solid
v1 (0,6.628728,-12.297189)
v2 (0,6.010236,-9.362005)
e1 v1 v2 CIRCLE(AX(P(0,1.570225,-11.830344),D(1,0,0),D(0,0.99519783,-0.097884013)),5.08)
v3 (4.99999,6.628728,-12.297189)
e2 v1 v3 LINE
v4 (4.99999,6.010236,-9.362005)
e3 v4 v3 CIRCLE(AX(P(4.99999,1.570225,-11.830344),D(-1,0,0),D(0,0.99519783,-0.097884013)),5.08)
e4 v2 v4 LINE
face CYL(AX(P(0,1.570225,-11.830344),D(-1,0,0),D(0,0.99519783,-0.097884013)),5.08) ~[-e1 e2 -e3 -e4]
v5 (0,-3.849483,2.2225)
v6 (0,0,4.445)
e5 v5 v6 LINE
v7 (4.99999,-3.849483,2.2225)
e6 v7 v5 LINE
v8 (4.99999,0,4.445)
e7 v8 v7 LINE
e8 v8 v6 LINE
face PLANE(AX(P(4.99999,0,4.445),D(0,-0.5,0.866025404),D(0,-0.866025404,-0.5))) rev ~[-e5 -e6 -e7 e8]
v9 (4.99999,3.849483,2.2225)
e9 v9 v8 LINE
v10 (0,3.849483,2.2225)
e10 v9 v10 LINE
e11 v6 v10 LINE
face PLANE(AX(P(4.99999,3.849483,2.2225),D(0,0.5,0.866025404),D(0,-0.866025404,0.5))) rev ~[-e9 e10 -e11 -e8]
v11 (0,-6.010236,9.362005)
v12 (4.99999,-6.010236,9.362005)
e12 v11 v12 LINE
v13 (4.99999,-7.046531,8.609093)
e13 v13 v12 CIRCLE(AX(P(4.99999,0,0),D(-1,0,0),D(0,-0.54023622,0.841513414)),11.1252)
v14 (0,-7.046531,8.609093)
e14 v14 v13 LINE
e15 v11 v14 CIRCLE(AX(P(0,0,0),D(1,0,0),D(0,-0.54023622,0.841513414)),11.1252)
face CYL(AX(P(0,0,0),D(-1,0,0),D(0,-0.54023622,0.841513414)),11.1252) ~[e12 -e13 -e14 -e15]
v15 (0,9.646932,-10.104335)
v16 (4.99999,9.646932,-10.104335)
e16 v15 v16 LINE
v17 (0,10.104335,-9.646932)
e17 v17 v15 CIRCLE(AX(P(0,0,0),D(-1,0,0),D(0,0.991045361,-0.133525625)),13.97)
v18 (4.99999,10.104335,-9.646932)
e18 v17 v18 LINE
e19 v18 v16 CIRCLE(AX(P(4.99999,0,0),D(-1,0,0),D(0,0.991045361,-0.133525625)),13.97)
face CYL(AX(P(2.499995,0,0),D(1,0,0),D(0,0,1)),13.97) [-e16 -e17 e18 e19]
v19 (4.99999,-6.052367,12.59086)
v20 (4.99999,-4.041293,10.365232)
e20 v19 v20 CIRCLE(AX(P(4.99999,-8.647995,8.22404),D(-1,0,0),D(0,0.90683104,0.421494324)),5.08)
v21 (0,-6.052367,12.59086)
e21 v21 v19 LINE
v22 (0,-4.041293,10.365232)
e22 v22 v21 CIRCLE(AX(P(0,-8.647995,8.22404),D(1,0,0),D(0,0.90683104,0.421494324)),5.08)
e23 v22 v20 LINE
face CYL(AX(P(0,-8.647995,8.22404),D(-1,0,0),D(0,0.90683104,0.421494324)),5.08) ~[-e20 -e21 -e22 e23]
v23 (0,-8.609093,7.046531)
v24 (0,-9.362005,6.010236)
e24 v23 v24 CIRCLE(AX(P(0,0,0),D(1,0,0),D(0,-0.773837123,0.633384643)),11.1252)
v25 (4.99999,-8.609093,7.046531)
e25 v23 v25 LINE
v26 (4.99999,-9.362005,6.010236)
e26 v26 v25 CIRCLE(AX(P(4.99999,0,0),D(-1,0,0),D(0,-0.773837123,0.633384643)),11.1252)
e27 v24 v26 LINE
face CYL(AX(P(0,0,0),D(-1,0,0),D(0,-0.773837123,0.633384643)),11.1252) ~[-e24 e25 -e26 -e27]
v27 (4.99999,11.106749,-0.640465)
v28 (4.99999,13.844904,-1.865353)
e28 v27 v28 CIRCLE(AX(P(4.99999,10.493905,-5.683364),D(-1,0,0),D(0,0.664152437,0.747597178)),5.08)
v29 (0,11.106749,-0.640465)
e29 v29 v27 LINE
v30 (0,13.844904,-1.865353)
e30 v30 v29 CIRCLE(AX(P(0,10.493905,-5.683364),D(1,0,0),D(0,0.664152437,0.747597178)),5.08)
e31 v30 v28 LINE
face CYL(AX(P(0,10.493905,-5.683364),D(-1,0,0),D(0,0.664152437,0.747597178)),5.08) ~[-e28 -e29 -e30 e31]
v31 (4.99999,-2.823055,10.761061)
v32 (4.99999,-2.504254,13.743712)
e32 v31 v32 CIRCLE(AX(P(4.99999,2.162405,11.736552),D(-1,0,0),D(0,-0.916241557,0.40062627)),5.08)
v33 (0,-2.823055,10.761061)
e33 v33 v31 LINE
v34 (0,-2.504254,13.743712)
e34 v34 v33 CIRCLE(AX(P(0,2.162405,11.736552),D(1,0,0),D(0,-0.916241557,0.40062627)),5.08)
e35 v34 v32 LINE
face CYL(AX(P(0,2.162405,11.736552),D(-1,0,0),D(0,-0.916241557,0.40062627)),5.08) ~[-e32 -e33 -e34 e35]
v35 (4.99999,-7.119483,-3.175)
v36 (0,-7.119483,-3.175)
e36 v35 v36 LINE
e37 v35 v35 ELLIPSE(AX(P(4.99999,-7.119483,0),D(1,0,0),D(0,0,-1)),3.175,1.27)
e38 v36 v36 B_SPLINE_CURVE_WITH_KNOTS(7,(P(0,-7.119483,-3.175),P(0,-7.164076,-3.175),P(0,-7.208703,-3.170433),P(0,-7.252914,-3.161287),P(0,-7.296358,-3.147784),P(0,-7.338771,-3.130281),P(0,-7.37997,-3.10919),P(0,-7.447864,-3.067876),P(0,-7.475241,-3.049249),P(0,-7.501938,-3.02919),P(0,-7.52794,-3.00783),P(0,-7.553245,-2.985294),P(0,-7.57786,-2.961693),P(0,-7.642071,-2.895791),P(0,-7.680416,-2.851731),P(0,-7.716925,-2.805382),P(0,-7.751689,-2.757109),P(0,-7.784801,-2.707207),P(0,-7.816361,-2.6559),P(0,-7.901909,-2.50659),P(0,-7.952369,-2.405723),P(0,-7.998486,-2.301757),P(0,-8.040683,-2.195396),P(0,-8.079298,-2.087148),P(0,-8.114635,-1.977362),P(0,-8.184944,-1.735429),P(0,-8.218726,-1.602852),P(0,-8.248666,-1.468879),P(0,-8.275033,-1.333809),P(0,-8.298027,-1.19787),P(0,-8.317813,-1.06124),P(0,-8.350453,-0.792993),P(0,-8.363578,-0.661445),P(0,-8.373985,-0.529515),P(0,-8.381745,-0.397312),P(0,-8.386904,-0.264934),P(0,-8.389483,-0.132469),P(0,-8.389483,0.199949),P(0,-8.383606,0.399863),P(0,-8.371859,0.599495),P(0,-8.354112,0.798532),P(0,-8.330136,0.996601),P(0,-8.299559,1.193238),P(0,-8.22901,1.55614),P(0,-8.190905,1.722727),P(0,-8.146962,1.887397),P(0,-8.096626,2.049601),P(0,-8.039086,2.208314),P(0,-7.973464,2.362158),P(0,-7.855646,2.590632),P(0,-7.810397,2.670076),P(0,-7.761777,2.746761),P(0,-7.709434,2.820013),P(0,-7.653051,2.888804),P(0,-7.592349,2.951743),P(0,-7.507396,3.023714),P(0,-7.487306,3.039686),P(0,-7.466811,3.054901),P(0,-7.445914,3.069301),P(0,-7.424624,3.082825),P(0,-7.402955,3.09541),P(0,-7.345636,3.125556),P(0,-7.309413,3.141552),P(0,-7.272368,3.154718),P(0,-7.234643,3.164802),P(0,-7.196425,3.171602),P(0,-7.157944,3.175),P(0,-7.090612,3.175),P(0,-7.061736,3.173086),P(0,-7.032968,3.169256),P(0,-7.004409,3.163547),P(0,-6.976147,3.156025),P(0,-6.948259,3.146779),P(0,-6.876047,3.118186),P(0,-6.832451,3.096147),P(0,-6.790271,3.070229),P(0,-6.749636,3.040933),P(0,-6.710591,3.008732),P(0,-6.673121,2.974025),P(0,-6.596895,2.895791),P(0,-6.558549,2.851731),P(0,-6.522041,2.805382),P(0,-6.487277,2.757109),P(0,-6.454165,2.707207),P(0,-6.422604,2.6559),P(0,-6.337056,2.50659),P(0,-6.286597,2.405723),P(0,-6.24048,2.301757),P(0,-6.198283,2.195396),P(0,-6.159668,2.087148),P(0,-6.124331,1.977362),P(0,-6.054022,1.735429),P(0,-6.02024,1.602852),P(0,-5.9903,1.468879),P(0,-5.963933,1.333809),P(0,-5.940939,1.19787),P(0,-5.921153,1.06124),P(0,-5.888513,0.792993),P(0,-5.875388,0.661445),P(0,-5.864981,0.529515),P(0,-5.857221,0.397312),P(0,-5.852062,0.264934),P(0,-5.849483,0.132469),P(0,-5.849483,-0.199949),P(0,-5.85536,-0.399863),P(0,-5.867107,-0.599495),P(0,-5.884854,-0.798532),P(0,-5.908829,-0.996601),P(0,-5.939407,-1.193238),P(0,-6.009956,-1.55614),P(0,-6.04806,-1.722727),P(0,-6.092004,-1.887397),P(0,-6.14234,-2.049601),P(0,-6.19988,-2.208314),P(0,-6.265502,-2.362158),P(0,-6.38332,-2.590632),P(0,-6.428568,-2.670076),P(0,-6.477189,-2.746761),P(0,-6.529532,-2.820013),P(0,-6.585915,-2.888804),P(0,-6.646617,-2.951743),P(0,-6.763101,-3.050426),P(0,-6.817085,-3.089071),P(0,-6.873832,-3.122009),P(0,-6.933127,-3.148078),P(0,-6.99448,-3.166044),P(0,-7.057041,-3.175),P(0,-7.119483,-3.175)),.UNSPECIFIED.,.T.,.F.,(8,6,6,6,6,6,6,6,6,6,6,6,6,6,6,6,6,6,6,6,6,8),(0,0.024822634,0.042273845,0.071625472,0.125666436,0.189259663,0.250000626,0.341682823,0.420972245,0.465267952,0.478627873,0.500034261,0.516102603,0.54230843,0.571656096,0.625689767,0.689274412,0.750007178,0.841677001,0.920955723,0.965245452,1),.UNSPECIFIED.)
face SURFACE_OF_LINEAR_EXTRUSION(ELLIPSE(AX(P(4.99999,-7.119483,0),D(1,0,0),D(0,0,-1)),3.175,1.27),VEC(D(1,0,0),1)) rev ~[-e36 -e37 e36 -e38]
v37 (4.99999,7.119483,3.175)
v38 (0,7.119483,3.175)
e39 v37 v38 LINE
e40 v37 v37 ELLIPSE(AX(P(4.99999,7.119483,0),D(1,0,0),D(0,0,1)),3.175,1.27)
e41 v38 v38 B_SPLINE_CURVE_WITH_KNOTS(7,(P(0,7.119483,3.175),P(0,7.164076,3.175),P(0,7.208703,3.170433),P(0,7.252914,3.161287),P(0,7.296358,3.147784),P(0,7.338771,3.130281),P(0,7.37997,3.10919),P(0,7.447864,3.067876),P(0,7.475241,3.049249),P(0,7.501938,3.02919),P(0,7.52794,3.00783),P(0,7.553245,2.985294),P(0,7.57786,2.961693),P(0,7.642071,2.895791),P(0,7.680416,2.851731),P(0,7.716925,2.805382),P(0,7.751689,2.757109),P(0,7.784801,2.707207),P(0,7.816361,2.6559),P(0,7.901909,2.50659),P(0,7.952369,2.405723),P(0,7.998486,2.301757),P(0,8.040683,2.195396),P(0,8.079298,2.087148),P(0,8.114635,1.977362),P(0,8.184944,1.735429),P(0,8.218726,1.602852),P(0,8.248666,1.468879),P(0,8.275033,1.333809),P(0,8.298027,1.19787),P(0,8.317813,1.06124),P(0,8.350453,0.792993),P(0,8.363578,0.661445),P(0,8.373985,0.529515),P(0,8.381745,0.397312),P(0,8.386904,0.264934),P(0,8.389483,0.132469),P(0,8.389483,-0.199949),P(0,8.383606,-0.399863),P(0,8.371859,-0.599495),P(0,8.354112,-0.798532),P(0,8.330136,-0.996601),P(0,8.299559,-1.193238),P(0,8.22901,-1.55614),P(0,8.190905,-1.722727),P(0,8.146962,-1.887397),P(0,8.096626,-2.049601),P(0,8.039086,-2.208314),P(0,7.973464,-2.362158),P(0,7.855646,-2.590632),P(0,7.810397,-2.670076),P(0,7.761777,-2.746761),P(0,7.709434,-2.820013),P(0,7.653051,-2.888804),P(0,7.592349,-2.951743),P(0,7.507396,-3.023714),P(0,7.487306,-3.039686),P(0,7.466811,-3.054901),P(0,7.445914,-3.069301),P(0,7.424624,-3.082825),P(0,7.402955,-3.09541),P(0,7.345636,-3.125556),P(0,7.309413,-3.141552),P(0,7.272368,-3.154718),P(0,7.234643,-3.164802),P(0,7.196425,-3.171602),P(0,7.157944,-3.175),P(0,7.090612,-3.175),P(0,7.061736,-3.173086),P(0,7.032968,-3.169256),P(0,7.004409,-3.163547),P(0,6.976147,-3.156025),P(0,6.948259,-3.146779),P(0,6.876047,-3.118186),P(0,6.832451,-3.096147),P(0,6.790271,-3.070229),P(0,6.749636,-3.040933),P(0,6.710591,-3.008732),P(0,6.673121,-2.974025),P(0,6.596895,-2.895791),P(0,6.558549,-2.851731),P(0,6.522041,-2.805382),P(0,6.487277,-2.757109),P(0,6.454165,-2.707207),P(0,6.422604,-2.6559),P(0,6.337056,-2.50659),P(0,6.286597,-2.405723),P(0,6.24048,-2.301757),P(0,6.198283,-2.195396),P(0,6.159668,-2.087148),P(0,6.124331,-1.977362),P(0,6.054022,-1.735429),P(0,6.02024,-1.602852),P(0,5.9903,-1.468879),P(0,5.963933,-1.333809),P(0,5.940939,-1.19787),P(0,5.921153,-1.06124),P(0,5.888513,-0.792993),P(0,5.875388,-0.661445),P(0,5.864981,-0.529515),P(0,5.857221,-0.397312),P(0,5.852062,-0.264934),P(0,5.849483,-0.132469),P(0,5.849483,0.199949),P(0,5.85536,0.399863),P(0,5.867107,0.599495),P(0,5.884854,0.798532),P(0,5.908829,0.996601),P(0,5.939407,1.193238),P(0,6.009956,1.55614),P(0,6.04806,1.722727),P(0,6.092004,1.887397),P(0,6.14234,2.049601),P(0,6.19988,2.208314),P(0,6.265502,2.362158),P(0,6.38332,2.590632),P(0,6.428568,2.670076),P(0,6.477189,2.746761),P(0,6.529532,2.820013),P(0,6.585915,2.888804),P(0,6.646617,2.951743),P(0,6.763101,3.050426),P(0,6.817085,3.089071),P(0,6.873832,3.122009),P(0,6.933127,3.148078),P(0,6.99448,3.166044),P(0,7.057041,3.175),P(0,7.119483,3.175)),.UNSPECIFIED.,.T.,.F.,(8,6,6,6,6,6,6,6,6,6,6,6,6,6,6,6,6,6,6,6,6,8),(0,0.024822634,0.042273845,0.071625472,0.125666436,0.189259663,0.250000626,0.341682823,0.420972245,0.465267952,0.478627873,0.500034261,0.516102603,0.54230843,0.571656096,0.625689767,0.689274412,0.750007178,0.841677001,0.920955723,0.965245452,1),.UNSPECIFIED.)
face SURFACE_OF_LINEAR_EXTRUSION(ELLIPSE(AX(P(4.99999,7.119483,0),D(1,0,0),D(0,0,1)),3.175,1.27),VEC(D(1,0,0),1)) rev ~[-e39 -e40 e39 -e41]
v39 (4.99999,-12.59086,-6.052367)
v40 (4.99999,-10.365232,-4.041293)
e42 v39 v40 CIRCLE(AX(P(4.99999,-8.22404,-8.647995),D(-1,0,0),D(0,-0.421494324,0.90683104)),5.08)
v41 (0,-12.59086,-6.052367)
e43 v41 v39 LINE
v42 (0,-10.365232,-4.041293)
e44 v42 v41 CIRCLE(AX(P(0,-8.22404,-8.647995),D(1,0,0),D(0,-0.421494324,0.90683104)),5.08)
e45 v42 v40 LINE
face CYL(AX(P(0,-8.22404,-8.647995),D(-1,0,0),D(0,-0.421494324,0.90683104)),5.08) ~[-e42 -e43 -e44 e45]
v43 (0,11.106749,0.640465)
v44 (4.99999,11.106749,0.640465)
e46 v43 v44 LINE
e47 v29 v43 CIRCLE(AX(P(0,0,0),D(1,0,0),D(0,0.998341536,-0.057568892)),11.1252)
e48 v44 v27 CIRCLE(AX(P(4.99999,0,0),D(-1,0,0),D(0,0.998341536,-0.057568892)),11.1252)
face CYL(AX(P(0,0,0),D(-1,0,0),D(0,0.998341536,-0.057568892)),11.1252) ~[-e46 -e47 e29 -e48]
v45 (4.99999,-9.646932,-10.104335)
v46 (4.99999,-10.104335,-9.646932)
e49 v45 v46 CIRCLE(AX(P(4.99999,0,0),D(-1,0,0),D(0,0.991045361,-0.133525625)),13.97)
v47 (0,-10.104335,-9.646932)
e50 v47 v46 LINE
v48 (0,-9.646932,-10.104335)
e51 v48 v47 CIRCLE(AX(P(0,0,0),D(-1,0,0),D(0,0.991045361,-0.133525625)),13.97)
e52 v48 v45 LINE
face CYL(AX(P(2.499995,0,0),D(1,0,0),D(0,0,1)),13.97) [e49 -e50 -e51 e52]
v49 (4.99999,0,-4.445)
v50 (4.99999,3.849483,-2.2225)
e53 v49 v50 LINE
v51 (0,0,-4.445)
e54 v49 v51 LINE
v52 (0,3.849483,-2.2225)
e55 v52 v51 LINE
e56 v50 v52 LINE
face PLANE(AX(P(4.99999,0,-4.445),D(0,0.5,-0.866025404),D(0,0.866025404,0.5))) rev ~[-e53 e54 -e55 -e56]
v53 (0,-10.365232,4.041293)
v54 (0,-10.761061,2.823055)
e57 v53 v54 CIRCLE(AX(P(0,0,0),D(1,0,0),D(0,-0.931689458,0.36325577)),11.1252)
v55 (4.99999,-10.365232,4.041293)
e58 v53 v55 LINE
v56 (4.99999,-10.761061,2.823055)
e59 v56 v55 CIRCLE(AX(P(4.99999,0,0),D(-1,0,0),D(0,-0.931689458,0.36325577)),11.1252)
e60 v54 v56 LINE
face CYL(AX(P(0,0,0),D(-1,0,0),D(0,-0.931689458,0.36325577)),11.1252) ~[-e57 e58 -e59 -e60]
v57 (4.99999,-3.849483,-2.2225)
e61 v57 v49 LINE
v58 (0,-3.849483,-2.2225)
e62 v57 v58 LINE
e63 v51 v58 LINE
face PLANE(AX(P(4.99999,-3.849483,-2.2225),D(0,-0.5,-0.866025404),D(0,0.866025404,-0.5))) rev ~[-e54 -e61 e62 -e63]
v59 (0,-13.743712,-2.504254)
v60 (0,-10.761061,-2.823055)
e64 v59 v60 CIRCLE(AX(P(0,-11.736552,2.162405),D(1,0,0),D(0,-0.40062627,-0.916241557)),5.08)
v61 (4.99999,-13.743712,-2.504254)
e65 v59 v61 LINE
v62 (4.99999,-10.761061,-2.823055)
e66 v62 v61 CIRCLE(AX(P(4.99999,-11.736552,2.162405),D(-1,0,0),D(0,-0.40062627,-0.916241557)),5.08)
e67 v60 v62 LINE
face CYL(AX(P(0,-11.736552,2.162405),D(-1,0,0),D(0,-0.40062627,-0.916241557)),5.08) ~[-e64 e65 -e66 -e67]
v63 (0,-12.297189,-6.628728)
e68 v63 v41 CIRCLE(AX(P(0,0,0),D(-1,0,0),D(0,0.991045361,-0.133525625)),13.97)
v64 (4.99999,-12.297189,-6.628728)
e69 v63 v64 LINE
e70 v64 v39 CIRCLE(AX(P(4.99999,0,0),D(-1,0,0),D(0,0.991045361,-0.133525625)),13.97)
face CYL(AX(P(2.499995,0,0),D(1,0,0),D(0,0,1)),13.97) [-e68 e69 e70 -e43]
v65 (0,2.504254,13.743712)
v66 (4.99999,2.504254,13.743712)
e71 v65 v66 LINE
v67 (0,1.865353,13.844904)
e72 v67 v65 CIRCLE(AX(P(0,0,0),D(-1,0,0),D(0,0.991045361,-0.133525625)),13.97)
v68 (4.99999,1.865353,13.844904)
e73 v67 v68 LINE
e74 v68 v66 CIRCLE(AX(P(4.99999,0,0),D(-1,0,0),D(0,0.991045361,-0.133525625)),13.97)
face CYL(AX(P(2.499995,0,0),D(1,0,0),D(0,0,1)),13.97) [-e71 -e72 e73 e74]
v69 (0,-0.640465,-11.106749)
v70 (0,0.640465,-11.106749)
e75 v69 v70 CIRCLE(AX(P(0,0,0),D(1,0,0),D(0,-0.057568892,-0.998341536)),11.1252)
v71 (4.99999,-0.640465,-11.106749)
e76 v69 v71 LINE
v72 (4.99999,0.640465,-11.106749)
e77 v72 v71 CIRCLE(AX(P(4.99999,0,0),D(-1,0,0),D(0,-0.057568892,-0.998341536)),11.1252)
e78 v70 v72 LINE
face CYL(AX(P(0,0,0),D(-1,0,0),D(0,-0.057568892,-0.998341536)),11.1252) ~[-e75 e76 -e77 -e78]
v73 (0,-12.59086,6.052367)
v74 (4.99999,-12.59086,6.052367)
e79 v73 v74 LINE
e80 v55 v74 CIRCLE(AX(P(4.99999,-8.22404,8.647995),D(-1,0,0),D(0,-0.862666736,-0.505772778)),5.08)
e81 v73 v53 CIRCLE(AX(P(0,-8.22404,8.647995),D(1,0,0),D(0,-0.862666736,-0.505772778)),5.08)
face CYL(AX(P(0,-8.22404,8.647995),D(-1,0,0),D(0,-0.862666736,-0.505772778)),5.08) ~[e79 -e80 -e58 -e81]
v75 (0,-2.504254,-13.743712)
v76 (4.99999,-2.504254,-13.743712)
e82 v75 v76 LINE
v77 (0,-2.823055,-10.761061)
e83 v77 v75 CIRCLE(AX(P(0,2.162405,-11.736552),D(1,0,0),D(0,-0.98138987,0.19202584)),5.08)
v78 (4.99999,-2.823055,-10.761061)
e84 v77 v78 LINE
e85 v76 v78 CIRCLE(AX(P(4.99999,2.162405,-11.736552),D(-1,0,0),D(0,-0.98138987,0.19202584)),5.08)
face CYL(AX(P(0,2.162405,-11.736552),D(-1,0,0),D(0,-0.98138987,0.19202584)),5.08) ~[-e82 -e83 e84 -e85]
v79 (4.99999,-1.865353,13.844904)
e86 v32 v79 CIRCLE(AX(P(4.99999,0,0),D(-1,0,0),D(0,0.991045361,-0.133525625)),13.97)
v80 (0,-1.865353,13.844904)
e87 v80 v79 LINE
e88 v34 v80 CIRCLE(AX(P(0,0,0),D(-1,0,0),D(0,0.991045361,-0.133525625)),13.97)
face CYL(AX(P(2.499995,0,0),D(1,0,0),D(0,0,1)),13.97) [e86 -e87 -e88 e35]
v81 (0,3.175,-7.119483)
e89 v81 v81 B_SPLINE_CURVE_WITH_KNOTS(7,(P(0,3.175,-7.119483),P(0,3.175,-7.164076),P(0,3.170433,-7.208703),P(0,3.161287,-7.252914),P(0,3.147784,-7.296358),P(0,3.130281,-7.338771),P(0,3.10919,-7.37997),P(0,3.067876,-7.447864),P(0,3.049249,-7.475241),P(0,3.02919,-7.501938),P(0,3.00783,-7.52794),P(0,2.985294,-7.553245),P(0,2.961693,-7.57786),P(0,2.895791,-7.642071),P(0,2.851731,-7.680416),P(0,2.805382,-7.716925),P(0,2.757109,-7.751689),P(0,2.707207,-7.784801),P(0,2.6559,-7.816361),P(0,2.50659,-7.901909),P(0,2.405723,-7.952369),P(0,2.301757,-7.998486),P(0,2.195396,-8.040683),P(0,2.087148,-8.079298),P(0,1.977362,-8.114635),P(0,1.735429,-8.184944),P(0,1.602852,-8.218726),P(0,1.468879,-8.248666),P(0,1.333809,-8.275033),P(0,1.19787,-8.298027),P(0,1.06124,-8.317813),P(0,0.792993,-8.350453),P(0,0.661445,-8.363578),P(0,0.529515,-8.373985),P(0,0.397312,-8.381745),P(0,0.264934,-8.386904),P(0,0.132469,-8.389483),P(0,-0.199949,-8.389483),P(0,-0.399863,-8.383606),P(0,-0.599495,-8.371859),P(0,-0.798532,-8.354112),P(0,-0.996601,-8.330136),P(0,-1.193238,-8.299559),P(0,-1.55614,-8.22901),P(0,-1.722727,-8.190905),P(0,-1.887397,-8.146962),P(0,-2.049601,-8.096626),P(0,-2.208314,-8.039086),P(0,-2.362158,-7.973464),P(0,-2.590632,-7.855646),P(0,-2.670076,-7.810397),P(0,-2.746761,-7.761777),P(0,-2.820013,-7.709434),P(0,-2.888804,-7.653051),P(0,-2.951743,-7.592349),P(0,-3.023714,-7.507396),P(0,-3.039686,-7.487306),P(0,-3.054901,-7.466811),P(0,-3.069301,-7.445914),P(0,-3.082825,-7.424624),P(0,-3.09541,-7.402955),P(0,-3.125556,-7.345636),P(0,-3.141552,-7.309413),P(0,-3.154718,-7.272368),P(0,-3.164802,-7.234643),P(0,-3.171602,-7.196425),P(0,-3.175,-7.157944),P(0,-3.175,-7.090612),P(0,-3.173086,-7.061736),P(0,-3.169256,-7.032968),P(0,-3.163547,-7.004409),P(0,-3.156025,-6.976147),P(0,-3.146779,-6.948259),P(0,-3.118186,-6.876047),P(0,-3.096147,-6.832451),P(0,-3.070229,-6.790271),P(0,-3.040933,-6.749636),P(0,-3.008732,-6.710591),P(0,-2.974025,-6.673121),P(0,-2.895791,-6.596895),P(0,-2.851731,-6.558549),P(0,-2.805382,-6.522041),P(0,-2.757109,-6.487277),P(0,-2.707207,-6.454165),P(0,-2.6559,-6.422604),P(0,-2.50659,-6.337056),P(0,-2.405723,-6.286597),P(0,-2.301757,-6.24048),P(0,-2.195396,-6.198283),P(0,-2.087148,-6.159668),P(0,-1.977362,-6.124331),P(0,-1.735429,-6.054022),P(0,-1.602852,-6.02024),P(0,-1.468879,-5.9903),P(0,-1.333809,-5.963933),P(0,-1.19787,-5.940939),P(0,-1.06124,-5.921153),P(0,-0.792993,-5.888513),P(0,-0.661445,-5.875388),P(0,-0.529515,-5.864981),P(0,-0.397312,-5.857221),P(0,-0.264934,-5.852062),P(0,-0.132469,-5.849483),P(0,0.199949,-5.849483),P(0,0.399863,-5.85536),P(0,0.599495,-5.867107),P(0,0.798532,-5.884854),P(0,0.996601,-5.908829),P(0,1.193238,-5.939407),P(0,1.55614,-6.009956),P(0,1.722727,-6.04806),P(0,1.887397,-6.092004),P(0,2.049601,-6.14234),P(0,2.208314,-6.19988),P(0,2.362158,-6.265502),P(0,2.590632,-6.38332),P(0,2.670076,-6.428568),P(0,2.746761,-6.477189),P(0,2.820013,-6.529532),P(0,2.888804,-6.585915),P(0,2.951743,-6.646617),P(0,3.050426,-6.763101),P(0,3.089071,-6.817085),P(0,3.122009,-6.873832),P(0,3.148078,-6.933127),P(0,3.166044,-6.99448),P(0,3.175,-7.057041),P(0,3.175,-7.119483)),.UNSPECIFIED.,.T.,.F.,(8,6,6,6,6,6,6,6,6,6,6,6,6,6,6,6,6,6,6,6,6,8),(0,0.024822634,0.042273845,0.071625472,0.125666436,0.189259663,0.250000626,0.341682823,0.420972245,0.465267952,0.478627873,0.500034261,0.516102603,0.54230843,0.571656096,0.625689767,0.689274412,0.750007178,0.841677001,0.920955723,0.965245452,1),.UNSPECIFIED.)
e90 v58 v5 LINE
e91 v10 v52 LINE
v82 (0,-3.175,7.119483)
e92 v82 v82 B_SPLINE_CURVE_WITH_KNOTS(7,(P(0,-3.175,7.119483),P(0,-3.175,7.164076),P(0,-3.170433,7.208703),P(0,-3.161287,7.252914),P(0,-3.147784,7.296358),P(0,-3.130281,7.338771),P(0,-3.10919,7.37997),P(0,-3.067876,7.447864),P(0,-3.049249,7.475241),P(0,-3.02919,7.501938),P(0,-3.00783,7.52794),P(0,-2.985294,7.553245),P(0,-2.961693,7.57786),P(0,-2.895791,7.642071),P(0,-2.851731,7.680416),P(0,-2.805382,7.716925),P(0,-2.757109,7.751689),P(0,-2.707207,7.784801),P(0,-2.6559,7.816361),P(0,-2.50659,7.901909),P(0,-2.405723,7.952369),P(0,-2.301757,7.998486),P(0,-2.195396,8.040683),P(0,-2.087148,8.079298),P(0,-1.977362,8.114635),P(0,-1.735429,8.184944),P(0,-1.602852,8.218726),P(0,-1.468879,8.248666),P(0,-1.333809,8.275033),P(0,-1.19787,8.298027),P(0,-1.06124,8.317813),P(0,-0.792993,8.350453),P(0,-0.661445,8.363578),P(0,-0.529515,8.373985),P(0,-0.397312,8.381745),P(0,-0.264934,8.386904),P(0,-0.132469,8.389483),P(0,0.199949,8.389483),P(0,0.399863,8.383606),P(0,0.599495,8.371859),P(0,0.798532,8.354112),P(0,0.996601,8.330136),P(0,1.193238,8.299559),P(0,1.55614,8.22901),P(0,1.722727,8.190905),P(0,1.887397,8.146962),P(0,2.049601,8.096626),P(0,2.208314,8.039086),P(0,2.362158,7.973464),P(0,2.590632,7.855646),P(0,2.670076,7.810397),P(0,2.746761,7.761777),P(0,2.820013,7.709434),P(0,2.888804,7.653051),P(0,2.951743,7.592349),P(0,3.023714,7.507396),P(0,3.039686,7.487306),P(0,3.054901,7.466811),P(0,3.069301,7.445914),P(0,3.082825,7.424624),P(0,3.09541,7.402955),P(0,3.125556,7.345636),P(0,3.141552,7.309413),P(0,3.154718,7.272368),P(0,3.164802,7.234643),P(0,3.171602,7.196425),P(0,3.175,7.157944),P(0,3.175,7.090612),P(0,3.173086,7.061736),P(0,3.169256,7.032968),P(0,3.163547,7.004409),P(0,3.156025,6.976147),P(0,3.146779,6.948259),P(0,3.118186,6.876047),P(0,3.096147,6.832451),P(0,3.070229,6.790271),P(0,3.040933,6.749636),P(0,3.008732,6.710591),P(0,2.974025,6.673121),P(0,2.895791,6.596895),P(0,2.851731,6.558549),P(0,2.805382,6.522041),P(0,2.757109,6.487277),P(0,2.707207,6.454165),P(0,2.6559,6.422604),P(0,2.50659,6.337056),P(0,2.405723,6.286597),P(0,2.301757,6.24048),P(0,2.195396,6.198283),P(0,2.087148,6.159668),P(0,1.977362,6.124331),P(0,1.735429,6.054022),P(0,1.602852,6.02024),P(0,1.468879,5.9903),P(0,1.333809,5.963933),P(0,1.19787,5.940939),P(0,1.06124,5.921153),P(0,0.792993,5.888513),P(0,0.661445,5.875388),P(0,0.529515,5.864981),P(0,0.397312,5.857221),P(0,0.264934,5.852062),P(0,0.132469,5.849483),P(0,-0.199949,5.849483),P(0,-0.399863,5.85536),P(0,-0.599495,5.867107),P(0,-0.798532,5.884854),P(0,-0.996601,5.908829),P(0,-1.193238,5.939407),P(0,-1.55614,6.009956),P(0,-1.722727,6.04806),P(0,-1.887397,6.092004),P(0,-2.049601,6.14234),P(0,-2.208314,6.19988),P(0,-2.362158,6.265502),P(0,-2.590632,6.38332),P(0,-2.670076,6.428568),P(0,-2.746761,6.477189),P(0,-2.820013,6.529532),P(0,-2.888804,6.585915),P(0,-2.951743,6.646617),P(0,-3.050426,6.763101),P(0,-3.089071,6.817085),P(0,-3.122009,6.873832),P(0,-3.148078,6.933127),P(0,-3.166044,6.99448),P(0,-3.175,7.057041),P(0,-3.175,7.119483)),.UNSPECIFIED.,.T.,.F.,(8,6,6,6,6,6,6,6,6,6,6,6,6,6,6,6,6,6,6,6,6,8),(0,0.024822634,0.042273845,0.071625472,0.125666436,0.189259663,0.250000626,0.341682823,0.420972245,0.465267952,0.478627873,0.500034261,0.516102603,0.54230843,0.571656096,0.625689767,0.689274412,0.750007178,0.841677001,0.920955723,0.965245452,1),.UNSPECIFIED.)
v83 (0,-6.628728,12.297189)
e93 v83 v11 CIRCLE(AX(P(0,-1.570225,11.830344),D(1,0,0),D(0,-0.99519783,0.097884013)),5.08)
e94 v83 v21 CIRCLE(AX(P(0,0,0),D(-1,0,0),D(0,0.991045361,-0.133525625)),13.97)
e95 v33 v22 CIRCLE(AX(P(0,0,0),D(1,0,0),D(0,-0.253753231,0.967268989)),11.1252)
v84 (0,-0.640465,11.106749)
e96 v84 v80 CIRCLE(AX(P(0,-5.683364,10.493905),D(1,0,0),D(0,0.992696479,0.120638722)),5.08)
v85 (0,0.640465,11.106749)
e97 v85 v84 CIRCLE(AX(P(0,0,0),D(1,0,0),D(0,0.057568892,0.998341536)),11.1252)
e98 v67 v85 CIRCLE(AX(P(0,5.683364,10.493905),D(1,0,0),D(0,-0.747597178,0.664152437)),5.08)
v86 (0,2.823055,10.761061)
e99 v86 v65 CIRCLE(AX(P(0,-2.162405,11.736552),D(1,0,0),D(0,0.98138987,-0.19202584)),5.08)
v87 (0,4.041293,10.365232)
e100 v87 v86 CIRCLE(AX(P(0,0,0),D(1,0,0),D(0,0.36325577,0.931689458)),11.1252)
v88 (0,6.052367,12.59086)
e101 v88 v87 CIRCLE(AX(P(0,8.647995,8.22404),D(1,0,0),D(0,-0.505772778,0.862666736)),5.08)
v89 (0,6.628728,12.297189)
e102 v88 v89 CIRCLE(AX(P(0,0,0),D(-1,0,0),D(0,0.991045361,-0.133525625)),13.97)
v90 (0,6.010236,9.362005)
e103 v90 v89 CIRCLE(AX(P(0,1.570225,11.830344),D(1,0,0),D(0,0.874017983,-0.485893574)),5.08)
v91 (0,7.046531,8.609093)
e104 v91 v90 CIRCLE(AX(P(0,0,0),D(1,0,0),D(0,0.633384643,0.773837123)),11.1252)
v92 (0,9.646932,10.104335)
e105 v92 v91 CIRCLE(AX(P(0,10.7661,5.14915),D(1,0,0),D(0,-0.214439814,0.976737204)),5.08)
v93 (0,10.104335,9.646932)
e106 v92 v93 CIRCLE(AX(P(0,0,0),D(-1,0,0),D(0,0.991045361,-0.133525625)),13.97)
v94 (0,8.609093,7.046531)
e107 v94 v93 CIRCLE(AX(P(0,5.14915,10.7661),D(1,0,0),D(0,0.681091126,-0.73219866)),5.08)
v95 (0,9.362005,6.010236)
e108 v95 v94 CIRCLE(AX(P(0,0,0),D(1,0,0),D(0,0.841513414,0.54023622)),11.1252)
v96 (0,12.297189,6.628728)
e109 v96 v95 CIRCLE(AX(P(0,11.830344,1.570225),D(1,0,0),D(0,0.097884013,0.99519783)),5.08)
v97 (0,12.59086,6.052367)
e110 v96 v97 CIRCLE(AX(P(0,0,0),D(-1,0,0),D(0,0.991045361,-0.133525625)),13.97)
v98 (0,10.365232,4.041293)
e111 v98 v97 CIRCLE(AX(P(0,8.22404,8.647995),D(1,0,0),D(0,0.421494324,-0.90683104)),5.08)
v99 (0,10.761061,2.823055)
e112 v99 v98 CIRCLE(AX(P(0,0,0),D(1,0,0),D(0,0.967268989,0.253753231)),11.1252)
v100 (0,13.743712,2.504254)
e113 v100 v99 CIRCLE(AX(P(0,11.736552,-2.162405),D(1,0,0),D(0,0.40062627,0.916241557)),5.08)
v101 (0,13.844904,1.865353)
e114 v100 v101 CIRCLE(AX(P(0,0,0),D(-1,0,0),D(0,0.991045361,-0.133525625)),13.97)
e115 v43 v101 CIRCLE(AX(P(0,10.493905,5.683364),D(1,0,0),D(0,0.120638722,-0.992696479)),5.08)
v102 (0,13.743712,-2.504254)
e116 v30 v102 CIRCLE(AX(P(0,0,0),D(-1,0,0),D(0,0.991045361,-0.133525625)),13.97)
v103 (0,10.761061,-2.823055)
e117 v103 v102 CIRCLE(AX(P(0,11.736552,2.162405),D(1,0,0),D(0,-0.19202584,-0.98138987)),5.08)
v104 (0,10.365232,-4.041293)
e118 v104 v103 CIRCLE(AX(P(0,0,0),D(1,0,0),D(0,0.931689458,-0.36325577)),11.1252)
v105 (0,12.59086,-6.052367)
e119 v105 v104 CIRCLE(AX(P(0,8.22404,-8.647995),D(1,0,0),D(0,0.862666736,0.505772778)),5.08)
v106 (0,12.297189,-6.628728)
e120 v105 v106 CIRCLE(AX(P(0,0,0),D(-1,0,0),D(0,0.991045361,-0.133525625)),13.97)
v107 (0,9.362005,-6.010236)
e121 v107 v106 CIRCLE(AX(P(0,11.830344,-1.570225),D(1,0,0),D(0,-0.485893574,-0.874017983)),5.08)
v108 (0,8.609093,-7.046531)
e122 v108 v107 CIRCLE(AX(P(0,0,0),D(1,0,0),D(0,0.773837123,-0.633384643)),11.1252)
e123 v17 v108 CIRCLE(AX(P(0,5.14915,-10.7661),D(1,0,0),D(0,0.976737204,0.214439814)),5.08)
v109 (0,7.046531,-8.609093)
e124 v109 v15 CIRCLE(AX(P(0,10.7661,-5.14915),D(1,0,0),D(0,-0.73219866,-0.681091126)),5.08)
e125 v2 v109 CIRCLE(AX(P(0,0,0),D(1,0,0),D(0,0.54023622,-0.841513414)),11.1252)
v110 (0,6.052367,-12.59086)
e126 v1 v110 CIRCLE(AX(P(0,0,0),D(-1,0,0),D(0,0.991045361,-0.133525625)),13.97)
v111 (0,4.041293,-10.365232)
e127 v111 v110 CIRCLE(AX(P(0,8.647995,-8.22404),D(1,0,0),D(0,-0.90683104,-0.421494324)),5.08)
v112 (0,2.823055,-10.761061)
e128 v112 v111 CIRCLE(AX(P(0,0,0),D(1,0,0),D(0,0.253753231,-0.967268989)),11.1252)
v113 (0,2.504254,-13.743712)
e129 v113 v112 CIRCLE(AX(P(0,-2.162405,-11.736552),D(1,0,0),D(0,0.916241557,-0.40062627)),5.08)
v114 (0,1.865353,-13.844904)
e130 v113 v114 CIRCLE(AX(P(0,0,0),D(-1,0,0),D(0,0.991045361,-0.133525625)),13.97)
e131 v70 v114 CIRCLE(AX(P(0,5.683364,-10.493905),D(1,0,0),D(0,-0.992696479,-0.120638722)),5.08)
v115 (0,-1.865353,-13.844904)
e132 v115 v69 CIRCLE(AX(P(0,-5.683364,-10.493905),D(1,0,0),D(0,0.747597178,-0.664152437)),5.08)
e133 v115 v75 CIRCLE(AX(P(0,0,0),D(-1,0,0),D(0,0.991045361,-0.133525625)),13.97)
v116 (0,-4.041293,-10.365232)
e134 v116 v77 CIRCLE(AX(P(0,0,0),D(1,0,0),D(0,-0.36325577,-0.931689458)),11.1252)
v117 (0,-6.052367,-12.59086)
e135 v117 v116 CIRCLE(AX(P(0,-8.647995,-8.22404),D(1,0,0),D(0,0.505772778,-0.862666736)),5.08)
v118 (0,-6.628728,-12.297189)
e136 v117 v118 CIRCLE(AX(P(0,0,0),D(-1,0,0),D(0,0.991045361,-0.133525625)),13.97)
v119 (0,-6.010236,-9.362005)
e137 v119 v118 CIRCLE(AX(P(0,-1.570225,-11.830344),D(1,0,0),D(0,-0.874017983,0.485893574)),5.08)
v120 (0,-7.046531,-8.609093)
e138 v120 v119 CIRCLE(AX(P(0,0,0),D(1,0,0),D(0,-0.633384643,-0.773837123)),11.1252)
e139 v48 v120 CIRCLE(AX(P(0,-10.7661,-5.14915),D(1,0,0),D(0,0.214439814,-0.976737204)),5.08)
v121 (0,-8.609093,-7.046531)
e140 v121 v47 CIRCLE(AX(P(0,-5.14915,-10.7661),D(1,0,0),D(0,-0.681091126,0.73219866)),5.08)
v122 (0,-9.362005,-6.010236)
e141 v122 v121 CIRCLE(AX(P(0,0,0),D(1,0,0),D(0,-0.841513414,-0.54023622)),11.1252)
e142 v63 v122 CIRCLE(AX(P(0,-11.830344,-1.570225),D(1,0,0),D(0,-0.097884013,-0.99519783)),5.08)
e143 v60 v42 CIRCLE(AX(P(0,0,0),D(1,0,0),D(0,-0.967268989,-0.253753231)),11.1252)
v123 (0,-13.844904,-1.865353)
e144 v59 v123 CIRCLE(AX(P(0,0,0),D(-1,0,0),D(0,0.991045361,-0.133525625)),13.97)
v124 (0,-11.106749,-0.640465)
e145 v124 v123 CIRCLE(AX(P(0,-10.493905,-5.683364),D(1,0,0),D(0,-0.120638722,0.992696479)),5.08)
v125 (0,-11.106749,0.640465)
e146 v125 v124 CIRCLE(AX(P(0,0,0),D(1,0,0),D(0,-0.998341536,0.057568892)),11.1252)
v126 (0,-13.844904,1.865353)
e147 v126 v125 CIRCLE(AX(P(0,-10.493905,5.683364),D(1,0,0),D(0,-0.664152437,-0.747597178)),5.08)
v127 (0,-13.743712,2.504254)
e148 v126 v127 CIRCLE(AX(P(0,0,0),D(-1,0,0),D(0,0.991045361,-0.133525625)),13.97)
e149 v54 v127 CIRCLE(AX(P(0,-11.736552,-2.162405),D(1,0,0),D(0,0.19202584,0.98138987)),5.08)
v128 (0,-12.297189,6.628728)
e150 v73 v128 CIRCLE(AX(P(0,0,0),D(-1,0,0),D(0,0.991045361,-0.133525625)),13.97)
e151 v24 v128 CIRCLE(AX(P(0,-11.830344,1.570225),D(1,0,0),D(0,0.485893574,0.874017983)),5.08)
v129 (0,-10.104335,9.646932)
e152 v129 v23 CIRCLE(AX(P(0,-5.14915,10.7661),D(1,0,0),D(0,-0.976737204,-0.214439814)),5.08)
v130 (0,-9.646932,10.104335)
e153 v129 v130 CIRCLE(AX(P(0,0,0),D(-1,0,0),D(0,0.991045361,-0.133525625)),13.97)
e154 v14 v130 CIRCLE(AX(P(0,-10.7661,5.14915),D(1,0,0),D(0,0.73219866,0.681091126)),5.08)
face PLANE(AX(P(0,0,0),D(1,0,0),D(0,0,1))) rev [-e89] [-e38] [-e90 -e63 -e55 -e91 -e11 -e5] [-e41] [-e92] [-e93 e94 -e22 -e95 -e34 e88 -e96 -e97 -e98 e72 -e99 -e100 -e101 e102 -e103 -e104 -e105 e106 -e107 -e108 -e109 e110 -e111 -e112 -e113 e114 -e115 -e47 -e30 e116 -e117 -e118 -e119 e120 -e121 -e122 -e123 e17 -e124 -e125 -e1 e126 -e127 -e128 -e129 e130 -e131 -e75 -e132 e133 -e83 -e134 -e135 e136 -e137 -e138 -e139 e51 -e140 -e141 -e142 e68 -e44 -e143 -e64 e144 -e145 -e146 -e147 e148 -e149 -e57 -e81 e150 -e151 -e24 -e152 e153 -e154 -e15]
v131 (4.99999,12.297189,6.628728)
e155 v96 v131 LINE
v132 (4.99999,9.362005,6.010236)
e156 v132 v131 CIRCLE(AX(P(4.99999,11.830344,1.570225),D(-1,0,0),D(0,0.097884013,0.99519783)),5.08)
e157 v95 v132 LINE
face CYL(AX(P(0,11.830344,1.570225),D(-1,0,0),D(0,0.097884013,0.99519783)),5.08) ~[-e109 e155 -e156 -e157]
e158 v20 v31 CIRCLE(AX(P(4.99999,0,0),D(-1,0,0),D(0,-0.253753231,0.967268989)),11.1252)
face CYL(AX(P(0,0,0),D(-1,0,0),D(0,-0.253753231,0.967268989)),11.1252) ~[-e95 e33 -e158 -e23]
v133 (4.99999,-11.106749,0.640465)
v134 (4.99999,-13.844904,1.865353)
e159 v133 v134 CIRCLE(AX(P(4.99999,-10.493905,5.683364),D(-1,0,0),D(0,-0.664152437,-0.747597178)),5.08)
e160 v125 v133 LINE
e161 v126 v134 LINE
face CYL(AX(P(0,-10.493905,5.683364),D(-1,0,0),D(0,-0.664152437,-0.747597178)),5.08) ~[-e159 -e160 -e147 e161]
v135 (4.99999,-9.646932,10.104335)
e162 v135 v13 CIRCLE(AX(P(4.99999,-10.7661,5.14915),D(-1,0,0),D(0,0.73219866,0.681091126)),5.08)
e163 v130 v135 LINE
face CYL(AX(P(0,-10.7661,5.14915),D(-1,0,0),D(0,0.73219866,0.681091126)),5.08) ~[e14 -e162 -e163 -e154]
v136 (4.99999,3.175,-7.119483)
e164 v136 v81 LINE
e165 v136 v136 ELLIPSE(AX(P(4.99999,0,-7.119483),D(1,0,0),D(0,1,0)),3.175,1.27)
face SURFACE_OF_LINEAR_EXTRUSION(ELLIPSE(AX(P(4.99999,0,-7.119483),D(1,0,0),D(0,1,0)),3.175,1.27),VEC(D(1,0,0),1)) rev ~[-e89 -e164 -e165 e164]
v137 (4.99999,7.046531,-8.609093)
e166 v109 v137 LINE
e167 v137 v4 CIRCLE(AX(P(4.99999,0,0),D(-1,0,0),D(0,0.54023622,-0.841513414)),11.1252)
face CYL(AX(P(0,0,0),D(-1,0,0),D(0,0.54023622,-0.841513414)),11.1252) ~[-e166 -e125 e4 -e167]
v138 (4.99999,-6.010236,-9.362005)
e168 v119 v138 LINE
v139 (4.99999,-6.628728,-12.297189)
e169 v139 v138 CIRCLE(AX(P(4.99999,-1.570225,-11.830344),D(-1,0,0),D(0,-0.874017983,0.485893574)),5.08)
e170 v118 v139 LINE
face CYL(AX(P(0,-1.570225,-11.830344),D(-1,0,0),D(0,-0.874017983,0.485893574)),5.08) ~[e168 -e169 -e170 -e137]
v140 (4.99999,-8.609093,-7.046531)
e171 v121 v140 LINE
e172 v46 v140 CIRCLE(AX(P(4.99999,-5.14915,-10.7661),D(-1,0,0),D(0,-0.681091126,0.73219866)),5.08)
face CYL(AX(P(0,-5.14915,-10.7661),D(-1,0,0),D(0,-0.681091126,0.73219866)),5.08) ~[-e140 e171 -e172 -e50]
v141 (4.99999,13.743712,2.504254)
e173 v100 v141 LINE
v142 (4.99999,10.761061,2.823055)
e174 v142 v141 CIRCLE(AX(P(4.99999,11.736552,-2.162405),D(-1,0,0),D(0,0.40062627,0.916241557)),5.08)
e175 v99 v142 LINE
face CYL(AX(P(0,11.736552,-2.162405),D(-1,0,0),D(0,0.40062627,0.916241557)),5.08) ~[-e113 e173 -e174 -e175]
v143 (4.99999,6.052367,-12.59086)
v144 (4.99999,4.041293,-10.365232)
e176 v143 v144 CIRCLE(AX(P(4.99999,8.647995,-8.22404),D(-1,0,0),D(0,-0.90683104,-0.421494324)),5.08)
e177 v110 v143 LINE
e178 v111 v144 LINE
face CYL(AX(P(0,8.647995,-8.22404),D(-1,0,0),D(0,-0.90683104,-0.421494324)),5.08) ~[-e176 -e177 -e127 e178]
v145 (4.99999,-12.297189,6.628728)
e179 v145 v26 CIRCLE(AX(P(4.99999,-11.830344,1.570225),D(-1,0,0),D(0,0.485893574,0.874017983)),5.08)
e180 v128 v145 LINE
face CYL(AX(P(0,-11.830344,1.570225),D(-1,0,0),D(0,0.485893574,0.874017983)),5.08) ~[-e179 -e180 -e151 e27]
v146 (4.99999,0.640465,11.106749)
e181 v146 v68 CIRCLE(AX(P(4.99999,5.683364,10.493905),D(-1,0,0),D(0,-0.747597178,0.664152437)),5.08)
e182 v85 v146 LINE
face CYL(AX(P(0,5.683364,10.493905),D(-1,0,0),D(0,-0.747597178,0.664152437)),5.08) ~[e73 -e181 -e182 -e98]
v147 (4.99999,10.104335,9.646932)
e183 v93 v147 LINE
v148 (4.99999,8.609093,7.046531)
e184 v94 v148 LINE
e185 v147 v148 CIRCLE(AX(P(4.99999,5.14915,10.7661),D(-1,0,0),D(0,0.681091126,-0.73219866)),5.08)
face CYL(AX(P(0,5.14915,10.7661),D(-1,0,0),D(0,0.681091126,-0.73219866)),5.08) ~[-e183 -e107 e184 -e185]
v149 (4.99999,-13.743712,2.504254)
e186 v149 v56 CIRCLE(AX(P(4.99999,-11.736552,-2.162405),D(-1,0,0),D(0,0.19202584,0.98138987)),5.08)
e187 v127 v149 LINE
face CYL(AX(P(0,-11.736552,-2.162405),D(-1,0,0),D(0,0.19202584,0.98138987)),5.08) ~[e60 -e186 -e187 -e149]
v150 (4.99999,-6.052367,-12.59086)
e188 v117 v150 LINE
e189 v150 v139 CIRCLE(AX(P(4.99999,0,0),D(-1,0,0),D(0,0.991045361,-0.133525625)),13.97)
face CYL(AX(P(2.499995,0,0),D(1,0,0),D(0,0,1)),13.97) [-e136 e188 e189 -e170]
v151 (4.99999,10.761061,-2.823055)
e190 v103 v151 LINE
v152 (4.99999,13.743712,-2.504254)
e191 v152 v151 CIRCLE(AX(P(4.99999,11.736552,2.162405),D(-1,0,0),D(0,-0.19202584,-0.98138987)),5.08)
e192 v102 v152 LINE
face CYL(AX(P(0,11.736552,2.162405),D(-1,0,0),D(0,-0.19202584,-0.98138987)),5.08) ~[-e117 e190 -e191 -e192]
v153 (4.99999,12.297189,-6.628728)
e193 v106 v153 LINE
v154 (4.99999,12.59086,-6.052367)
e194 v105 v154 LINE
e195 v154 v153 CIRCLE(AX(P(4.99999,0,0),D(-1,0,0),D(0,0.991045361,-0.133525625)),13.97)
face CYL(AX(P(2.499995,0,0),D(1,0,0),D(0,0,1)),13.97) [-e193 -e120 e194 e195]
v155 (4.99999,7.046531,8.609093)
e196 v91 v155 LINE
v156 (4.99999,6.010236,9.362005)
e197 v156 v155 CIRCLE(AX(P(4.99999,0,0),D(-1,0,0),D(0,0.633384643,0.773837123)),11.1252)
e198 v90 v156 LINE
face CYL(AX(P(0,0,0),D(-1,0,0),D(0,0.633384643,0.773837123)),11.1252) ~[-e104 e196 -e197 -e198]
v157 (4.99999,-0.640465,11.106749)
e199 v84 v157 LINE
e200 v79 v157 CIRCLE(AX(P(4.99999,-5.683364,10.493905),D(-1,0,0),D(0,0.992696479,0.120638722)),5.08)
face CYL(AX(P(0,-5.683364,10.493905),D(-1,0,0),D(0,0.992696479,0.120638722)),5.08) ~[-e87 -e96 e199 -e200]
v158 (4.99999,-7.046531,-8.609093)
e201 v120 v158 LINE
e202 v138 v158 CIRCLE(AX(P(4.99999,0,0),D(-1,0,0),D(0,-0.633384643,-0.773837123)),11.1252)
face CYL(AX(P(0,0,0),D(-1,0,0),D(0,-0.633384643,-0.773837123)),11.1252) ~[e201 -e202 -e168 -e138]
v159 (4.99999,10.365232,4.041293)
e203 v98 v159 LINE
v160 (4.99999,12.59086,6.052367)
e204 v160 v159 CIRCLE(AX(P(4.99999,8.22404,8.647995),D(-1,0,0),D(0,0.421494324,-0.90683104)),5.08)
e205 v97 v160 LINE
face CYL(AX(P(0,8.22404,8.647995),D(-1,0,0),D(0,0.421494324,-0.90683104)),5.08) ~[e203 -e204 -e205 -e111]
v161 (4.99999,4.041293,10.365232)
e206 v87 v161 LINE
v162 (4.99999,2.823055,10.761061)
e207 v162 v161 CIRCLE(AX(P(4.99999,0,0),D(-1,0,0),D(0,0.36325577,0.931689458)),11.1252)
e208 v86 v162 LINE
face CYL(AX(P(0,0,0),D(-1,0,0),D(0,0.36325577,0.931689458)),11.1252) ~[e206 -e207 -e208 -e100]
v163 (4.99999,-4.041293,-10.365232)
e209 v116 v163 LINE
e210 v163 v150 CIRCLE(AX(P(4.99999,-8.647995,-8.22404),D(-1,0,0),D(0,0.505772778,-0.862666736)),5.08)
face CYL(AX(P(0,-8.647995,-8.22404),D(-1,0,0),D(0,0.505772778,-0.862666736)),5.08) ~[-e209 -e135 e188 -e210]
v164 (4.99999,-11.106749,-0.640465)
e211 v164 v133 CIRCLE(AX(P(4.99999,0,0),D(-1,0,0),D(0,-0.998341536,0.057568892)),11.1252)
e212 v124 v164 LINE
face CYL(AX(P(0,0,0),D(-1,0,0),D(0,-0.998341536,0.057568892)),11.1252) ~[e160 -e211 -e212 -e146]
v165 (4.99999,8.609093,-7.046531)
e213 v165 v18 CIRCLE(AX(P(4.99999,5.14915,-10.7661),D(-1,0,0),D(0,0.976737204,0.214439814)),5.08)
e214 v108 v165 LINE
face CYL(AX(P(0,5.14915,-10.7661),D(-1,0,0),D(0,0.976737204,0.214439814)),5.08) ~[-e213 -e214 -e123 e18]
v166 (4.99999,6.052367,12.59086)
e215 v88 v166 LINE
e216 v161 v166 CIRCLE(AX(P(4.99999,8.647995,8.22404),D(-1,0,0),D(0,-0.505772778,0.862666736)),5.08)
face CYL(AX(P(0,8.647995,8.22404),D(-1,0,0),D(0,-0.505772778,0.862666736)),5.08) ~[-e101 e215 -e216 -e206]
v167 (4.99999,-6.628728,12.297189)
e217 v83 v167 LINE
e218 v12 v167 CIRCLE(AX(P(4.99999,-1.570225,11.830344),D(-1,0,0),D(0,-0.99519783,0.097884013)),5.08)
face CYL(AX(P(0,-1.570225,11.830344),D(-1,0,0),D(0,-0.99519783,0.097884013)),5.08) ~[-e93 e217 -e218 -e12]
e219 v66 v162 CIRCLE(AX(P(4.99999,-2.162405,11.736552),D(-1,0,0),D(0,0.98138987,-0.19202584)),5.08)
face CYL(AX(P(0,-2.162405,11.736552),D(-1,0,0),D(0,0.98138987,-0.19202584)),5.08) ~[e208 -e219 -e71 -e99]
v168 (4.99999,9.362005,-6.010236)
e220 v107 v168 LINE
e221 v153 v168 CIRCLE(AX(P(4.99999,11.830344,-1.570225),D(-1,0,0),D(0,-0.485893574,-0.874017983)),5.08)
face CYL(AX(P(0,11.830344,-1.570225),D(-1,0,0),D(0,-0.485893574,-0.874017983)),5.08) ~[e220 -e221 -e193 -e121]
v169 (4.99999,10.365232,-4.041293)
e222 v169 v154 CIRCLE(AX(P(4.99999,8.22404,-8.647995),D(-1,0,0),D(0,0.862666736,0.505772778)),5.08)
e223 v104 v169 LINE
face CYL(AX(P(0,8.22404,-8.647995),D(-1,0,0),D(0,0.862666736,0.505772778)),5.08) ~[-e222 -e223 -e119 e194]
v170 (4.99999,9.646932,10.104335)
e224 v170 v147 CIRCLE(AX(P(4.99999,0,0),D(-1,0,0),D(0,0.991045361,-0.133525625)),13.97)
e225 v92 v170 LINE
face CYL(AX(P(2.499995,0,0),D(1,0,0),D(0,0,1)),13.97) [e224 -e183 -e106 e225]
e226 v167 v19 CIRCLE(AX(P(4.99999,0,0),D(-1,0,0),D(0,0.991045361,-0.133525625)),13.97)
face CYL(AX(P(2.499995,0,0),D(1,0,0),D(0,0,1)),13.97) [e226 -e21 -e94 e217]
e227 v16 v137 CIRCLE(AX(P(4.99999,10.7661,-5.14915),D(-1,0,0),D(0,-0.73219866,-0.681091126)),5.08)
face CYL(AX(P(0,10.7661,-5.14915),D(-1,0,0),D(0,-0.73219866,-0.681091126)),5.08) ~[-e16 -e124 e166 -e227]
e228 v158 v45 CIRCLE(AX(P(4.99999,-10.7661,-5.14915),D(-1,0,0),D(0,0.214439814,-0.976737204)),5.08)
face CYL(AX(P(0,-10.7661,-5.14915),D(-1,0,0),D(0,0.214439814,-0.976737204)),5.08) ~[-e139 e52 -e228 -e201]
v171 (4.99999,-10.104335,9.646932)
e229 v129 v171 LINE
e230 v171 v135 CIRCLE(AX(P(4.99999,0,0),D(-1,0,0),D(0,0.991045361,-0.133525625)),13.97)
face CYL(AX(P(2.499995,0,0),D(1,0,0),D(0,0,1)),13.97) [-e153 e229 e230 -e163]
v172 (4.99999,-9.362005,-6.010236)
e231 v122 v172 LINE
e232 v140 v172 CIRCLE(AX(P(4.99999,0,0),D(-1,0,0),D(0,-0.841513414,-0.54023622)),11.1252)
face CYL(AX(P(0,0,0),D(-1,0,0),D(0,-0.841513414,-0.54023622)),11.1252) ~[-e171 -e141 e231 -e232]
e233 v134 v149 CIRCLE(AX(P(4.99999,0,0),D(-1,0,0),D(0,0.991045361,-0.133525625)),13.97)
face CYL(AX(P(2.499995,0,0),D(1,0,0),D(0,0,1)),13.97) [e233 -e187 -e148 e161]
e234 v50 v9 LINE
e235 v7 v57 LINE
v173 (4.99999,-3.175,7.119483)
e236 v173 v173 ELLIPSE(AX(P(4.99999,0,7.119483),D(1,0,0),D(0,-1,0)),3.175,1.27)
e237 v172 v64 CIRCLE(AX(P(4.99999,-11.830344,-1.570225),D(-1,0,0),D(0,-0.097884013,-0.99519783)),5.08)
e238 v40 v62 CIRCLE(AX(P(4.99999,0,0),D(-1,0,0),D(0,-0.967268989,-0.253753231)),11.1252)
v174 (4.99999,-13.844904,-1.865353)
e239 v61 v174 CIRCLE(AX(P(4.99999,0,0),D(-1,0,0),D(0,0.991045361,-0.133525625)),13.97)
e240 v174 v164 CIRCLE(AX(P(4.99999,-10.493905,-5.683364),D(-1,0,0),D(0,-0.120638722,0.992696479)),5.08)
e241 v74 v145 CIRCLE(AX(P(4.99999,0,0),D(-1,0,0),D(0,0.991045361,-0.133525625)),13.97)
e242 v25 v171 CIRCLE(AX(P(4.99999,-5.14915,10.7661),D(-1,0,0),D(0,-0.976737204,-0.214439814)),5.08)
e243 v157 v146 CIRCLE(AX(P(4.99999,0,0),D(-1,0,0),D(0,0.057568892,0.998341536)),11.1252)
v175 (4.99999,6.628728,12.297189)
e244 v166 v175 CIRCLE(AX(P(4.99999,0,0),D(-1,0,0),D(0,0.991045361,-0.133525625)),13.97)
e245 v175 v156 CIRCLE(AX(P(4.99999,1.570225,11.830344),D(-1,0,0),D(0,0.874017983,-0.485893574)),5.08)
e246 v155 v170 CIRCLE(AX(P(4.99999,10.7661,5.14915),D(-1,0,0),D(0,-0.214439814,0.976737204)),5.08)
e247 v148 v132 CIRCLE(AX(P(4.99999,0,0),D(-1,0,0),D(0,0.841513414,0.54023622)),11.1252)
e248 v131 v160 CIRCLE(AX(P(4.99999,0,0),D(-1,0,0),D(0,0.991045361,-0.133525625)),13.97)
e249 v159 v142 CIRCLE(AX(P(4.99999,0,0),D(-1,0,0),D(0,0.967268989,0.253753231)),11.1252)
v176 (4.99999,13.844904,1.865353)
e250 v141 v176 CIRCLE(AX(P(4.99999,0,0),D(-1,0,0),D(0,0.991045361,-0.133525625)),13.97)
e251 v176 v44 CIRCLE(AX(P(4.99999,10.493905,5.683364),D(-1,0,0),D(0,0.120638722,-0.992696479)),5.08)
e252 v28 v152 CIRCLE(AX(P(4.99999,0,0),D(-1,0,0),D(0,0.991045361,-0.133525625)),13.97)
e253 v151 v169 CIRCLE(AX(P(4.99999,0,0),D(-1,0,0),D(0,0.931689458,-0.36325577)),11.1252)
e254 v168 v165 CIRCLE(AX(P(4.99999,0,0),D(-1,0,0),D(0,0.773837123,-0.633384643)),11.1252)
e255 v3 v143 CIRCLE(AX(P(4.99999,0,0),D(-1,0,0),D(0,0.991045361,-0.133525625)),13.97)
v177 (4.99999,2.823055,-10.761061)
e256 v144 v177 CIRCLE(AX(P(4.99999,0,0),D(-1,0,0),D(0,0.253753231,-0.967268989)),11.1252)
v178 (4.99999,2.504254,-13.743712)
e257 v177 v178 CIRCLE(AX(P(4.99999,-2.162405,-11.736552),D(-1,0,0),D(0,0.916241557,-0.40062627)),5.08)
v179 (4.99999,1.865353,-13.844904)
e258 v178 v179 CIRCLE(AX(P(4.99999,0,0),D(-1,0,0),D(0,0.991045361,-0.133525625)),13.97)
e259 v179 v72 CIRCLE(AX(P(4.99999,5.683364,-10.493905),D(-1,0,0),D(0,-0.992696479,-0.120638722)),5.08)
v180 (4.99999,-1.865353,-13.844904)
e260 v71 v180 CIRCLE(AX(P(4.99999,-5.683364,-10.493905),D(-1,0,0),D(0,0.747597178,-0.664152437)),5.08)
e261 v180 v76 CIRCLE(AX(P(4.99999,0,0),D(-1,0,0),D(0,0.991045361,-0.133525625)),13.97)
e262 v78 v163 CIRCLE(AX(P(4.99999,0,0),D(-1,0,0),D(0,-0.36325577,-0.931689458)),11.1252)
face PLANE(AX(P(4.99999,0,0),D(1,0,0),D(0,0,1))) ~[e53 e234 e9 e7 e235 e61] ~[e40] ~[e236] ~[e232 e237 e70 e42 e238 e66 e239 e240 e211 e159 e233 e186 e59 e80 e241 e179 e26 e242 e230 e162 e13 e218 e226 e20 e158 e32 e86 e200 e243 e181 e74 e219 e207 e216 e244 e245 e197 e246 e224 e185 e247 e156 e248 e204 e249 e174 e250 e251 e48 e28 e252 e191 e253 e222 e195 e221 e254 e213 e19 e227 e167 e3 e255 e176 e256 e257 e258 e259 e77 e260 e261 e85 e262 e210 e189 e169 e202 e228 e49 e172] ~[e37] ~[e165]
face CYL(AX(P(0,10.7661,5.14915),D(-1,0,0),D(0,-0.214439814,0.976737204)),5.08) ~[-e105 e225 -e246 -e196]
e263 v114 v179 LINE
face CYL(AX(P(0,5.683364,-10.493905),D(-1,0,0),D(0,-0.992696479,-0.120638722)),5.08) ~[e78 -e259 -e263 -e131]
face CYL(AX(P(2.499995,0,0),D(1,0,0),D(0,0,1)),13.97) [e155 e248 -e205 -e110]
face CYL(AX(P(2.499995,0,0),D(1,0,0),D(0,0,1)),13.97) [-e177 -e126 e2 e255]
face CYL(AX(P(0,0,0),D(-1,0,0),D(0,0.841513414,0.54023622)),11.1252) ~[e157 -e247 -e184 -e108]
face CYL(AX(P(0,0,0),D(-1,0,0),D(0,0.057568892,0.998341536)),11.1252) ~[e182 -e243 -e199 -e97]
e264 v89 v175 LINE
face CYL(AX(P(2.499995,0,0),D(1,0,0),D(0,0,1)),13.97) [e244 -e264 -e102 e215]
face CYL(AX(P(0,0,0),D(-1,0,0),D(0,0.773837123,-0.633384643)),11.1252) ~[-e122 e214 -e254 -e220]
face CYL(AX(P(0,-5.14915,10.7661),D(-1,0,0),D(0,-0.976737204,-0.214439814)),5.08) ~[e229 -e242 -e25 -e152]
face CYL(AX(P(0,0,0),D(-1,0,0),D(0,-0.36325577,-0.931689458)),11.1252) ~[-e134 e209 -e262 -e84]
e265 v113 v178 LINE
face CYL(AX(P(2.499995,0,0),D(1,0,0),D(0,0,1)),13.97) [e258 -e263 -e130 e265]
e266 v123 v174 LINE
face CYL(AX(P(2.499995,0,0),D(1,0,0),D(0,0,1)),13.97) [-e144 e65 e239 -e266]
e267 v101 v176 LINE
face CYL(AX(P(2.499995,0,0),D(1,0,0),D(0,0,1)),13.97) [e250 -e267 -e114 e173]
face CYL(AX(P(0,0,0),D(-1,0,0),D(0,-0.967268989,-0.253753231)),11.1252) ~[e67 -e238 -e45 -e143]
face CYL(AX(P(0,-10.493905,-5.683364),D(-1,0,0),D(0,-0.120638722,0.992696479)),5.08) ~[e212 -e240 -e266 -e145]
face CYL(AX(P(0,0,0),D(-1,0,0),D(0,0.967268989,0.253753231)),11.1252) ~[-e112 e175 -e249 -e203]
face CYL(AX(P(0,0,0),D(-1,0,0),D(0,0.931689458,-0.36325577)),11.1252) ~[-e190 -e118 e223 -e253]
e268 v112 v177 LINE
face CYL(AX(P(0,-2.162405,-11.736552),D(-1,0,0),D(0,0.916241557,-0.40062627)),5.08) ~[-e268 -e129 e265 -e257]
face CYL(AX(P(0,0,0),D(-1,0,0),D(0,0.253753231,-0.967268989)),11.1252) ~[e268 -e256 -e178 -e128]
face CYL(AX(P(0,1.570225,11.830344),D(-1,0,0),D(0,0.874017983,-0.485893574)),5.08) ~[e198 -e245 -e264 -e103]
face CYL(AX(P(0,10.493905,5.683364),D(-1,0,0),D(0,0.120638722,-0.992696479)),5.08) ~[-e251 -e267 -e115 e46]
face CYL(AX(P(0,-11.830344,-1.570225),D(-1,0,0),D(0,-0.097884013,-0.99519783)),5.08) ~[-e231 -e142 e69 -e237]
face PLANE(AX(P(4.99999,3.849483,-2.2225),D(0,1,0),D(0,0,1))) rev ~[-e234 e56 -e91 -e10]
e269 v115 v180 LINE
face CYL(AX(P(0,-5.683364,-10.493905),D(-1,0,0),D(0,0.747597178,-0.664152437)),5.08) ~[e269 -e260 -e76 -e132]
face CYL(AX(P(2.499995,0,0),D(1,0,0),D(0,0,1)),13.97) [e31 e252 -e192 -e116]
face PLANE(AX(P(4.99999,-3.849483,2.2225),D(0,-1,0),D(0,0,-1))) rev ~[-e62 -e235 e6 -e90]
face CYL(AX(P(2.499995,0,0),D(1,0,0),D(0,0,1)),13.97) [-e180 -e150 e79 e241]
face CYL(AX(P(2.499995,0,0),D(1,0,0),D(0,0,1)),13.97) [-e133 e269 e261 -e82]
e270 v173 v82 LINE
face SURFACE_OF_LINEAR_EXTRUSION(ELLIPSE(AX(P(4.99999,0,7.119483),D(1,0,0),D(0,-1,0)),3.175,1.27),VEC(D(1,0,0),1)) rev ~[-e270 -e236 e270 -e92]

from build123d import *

# Parameters (mm, degrees)
BASPROSKE_W        = 4.99999
BASPROSKE_H        = 13.97
TOOTHCUT_DEPTH     = 21.379443074
TEETHCUTS_COUNT    = 20
TEETHCUTS_ANGLE    = 342
BORSKE_R           = 0.396875
BORE_DEPTH         = 50.8000508
CUT_EXTRUDE1_DEPTH = 21.207983979
SKETCH2_RX         = 3.175
SKETCH2_RY         = 1.27
CUT_EXTRUDE2_DEPTH = 21.207983979
CIRPATTERN1_COUNT  = 4


with BuildPart() as part:
    # BasProSke → Base-Revolve (revolve)
    with BuildSketch(Plane(origin=(0, 0, 0), x_dir=(1, 0, 0), z_dir=(0, 1, 0)), mode=Mode.PRIVATE) as base_revolve_sk:
        with Locations((2.499995, 6.985)):
            Rectangle(BASPROSKE_W, BASPROSKE_H)
    revolve(base_revolve_sk.sketch.rotate(Axis((-10, 0, 0), (1, 0, 0)), 180), axis=Axis((-10, 0, 0), (1, 0, 0)))

    # TooCutSke → ToothCut (cut, through all)
    with BuildSketch(Plane(origin=(0, 0, 0), x_dir=(0, 0, -1), z_dir=(1, 0, 0))):
        with BuildLine():
            ThreePointArc((0.64046545, 11.106749257), (0, 11.1252), (-0.64046545, 11.106749257))
            ThreePointArc((-0.64046545, 11.106749257), (-1.052455812, 12.582227662), (-1.8855699, 13.867798935))
            ThreePointArc((-1.8855699, 13.867798935), (0, 13.9954), (1.8855699, 13.867798935))
            ThreePointArc((1.8855699, 13.867798935), (1.052455812, 12.582227662), (0.64046545, 11.106749257))
        make_face()
    toothcut = extrude(amount=TOOTHCUT_DEPTH, mode=Mode.SUBTRACT)

    # TeethCuts: ToothCut ×20 about axis
    teethcuts_axis = Axis((-10, 0, 0), (1, 0, 0))
    for i in range(1, TEETHCUTS_COUNT):
        add(toothcut.rotate(teethcuts_axis, i * TEETHCUTS_ANGLE / (TEETHCUTS_COUNT - 1)), mode=Mode.SUBTRACT)

    # BorSke → Bore (cut, symmetric)
    with BuildSketch(Plane(origin=(0, 0, 0), x_dir=(0, 0, -1), z_dir=(1, 0, 0))):
        with Locations(Location((0, 0, 0), (0, 0, 180))):
            Circle(BORSKE_R)
    extrude(amount=BORE_DEPTH, both=True, mode=Mode.SUBTRACT)

    # Sketch1 → Cut-Extrude1 (cut, through all)
    with BuildSketch(Plane(origin=(4.99999, 0, 0), x_dir=(0, 0, -1), z_dir=(1, 0, 0))):
        Polygon((2.2225, 3.84948292), (-2.2225, 3.84948292), (-4.445, 0), (-2.2225, -3.84948292), (2.2225, -3.84948292), (4.445, 0), align=None)
    extrude(amount=-CUT_EXTRUDE1_DEPTH, mode=Mode.SUBTRACT)

    # Sketch2 → Cut-Extrude2 (cut, through all)
    with BuildSketch(Plane(origin=(4.99999, 0, 0), x_dir=(0, 0, -1), z_dir=(1, 0, 0))):
        with Locations(Location((0, 7.11948292), (0, 0, 180))):
            Ellipse(SKETCH2_RX, SKETCH2_RY)
    cut_extrude2 = extrude(amount=-CUT_EXTRUDE2_DEPTH, mode=Mode.SUBTRACT)

    # CirPattern1: Cut-Extrude2 ×4 about axis
    cirpattern1_axis = Axis((4.99999, 0, 0), (-1, 0, 0))
    for i in range(1, CIRPATTERN1_COUNT):
        add(cut_extrude2.rotate(cirpattern1_axis, i * 360 / CIRPATTERN1_COUNT), mode=Mode.SUBTRACT)


solid = part.part
